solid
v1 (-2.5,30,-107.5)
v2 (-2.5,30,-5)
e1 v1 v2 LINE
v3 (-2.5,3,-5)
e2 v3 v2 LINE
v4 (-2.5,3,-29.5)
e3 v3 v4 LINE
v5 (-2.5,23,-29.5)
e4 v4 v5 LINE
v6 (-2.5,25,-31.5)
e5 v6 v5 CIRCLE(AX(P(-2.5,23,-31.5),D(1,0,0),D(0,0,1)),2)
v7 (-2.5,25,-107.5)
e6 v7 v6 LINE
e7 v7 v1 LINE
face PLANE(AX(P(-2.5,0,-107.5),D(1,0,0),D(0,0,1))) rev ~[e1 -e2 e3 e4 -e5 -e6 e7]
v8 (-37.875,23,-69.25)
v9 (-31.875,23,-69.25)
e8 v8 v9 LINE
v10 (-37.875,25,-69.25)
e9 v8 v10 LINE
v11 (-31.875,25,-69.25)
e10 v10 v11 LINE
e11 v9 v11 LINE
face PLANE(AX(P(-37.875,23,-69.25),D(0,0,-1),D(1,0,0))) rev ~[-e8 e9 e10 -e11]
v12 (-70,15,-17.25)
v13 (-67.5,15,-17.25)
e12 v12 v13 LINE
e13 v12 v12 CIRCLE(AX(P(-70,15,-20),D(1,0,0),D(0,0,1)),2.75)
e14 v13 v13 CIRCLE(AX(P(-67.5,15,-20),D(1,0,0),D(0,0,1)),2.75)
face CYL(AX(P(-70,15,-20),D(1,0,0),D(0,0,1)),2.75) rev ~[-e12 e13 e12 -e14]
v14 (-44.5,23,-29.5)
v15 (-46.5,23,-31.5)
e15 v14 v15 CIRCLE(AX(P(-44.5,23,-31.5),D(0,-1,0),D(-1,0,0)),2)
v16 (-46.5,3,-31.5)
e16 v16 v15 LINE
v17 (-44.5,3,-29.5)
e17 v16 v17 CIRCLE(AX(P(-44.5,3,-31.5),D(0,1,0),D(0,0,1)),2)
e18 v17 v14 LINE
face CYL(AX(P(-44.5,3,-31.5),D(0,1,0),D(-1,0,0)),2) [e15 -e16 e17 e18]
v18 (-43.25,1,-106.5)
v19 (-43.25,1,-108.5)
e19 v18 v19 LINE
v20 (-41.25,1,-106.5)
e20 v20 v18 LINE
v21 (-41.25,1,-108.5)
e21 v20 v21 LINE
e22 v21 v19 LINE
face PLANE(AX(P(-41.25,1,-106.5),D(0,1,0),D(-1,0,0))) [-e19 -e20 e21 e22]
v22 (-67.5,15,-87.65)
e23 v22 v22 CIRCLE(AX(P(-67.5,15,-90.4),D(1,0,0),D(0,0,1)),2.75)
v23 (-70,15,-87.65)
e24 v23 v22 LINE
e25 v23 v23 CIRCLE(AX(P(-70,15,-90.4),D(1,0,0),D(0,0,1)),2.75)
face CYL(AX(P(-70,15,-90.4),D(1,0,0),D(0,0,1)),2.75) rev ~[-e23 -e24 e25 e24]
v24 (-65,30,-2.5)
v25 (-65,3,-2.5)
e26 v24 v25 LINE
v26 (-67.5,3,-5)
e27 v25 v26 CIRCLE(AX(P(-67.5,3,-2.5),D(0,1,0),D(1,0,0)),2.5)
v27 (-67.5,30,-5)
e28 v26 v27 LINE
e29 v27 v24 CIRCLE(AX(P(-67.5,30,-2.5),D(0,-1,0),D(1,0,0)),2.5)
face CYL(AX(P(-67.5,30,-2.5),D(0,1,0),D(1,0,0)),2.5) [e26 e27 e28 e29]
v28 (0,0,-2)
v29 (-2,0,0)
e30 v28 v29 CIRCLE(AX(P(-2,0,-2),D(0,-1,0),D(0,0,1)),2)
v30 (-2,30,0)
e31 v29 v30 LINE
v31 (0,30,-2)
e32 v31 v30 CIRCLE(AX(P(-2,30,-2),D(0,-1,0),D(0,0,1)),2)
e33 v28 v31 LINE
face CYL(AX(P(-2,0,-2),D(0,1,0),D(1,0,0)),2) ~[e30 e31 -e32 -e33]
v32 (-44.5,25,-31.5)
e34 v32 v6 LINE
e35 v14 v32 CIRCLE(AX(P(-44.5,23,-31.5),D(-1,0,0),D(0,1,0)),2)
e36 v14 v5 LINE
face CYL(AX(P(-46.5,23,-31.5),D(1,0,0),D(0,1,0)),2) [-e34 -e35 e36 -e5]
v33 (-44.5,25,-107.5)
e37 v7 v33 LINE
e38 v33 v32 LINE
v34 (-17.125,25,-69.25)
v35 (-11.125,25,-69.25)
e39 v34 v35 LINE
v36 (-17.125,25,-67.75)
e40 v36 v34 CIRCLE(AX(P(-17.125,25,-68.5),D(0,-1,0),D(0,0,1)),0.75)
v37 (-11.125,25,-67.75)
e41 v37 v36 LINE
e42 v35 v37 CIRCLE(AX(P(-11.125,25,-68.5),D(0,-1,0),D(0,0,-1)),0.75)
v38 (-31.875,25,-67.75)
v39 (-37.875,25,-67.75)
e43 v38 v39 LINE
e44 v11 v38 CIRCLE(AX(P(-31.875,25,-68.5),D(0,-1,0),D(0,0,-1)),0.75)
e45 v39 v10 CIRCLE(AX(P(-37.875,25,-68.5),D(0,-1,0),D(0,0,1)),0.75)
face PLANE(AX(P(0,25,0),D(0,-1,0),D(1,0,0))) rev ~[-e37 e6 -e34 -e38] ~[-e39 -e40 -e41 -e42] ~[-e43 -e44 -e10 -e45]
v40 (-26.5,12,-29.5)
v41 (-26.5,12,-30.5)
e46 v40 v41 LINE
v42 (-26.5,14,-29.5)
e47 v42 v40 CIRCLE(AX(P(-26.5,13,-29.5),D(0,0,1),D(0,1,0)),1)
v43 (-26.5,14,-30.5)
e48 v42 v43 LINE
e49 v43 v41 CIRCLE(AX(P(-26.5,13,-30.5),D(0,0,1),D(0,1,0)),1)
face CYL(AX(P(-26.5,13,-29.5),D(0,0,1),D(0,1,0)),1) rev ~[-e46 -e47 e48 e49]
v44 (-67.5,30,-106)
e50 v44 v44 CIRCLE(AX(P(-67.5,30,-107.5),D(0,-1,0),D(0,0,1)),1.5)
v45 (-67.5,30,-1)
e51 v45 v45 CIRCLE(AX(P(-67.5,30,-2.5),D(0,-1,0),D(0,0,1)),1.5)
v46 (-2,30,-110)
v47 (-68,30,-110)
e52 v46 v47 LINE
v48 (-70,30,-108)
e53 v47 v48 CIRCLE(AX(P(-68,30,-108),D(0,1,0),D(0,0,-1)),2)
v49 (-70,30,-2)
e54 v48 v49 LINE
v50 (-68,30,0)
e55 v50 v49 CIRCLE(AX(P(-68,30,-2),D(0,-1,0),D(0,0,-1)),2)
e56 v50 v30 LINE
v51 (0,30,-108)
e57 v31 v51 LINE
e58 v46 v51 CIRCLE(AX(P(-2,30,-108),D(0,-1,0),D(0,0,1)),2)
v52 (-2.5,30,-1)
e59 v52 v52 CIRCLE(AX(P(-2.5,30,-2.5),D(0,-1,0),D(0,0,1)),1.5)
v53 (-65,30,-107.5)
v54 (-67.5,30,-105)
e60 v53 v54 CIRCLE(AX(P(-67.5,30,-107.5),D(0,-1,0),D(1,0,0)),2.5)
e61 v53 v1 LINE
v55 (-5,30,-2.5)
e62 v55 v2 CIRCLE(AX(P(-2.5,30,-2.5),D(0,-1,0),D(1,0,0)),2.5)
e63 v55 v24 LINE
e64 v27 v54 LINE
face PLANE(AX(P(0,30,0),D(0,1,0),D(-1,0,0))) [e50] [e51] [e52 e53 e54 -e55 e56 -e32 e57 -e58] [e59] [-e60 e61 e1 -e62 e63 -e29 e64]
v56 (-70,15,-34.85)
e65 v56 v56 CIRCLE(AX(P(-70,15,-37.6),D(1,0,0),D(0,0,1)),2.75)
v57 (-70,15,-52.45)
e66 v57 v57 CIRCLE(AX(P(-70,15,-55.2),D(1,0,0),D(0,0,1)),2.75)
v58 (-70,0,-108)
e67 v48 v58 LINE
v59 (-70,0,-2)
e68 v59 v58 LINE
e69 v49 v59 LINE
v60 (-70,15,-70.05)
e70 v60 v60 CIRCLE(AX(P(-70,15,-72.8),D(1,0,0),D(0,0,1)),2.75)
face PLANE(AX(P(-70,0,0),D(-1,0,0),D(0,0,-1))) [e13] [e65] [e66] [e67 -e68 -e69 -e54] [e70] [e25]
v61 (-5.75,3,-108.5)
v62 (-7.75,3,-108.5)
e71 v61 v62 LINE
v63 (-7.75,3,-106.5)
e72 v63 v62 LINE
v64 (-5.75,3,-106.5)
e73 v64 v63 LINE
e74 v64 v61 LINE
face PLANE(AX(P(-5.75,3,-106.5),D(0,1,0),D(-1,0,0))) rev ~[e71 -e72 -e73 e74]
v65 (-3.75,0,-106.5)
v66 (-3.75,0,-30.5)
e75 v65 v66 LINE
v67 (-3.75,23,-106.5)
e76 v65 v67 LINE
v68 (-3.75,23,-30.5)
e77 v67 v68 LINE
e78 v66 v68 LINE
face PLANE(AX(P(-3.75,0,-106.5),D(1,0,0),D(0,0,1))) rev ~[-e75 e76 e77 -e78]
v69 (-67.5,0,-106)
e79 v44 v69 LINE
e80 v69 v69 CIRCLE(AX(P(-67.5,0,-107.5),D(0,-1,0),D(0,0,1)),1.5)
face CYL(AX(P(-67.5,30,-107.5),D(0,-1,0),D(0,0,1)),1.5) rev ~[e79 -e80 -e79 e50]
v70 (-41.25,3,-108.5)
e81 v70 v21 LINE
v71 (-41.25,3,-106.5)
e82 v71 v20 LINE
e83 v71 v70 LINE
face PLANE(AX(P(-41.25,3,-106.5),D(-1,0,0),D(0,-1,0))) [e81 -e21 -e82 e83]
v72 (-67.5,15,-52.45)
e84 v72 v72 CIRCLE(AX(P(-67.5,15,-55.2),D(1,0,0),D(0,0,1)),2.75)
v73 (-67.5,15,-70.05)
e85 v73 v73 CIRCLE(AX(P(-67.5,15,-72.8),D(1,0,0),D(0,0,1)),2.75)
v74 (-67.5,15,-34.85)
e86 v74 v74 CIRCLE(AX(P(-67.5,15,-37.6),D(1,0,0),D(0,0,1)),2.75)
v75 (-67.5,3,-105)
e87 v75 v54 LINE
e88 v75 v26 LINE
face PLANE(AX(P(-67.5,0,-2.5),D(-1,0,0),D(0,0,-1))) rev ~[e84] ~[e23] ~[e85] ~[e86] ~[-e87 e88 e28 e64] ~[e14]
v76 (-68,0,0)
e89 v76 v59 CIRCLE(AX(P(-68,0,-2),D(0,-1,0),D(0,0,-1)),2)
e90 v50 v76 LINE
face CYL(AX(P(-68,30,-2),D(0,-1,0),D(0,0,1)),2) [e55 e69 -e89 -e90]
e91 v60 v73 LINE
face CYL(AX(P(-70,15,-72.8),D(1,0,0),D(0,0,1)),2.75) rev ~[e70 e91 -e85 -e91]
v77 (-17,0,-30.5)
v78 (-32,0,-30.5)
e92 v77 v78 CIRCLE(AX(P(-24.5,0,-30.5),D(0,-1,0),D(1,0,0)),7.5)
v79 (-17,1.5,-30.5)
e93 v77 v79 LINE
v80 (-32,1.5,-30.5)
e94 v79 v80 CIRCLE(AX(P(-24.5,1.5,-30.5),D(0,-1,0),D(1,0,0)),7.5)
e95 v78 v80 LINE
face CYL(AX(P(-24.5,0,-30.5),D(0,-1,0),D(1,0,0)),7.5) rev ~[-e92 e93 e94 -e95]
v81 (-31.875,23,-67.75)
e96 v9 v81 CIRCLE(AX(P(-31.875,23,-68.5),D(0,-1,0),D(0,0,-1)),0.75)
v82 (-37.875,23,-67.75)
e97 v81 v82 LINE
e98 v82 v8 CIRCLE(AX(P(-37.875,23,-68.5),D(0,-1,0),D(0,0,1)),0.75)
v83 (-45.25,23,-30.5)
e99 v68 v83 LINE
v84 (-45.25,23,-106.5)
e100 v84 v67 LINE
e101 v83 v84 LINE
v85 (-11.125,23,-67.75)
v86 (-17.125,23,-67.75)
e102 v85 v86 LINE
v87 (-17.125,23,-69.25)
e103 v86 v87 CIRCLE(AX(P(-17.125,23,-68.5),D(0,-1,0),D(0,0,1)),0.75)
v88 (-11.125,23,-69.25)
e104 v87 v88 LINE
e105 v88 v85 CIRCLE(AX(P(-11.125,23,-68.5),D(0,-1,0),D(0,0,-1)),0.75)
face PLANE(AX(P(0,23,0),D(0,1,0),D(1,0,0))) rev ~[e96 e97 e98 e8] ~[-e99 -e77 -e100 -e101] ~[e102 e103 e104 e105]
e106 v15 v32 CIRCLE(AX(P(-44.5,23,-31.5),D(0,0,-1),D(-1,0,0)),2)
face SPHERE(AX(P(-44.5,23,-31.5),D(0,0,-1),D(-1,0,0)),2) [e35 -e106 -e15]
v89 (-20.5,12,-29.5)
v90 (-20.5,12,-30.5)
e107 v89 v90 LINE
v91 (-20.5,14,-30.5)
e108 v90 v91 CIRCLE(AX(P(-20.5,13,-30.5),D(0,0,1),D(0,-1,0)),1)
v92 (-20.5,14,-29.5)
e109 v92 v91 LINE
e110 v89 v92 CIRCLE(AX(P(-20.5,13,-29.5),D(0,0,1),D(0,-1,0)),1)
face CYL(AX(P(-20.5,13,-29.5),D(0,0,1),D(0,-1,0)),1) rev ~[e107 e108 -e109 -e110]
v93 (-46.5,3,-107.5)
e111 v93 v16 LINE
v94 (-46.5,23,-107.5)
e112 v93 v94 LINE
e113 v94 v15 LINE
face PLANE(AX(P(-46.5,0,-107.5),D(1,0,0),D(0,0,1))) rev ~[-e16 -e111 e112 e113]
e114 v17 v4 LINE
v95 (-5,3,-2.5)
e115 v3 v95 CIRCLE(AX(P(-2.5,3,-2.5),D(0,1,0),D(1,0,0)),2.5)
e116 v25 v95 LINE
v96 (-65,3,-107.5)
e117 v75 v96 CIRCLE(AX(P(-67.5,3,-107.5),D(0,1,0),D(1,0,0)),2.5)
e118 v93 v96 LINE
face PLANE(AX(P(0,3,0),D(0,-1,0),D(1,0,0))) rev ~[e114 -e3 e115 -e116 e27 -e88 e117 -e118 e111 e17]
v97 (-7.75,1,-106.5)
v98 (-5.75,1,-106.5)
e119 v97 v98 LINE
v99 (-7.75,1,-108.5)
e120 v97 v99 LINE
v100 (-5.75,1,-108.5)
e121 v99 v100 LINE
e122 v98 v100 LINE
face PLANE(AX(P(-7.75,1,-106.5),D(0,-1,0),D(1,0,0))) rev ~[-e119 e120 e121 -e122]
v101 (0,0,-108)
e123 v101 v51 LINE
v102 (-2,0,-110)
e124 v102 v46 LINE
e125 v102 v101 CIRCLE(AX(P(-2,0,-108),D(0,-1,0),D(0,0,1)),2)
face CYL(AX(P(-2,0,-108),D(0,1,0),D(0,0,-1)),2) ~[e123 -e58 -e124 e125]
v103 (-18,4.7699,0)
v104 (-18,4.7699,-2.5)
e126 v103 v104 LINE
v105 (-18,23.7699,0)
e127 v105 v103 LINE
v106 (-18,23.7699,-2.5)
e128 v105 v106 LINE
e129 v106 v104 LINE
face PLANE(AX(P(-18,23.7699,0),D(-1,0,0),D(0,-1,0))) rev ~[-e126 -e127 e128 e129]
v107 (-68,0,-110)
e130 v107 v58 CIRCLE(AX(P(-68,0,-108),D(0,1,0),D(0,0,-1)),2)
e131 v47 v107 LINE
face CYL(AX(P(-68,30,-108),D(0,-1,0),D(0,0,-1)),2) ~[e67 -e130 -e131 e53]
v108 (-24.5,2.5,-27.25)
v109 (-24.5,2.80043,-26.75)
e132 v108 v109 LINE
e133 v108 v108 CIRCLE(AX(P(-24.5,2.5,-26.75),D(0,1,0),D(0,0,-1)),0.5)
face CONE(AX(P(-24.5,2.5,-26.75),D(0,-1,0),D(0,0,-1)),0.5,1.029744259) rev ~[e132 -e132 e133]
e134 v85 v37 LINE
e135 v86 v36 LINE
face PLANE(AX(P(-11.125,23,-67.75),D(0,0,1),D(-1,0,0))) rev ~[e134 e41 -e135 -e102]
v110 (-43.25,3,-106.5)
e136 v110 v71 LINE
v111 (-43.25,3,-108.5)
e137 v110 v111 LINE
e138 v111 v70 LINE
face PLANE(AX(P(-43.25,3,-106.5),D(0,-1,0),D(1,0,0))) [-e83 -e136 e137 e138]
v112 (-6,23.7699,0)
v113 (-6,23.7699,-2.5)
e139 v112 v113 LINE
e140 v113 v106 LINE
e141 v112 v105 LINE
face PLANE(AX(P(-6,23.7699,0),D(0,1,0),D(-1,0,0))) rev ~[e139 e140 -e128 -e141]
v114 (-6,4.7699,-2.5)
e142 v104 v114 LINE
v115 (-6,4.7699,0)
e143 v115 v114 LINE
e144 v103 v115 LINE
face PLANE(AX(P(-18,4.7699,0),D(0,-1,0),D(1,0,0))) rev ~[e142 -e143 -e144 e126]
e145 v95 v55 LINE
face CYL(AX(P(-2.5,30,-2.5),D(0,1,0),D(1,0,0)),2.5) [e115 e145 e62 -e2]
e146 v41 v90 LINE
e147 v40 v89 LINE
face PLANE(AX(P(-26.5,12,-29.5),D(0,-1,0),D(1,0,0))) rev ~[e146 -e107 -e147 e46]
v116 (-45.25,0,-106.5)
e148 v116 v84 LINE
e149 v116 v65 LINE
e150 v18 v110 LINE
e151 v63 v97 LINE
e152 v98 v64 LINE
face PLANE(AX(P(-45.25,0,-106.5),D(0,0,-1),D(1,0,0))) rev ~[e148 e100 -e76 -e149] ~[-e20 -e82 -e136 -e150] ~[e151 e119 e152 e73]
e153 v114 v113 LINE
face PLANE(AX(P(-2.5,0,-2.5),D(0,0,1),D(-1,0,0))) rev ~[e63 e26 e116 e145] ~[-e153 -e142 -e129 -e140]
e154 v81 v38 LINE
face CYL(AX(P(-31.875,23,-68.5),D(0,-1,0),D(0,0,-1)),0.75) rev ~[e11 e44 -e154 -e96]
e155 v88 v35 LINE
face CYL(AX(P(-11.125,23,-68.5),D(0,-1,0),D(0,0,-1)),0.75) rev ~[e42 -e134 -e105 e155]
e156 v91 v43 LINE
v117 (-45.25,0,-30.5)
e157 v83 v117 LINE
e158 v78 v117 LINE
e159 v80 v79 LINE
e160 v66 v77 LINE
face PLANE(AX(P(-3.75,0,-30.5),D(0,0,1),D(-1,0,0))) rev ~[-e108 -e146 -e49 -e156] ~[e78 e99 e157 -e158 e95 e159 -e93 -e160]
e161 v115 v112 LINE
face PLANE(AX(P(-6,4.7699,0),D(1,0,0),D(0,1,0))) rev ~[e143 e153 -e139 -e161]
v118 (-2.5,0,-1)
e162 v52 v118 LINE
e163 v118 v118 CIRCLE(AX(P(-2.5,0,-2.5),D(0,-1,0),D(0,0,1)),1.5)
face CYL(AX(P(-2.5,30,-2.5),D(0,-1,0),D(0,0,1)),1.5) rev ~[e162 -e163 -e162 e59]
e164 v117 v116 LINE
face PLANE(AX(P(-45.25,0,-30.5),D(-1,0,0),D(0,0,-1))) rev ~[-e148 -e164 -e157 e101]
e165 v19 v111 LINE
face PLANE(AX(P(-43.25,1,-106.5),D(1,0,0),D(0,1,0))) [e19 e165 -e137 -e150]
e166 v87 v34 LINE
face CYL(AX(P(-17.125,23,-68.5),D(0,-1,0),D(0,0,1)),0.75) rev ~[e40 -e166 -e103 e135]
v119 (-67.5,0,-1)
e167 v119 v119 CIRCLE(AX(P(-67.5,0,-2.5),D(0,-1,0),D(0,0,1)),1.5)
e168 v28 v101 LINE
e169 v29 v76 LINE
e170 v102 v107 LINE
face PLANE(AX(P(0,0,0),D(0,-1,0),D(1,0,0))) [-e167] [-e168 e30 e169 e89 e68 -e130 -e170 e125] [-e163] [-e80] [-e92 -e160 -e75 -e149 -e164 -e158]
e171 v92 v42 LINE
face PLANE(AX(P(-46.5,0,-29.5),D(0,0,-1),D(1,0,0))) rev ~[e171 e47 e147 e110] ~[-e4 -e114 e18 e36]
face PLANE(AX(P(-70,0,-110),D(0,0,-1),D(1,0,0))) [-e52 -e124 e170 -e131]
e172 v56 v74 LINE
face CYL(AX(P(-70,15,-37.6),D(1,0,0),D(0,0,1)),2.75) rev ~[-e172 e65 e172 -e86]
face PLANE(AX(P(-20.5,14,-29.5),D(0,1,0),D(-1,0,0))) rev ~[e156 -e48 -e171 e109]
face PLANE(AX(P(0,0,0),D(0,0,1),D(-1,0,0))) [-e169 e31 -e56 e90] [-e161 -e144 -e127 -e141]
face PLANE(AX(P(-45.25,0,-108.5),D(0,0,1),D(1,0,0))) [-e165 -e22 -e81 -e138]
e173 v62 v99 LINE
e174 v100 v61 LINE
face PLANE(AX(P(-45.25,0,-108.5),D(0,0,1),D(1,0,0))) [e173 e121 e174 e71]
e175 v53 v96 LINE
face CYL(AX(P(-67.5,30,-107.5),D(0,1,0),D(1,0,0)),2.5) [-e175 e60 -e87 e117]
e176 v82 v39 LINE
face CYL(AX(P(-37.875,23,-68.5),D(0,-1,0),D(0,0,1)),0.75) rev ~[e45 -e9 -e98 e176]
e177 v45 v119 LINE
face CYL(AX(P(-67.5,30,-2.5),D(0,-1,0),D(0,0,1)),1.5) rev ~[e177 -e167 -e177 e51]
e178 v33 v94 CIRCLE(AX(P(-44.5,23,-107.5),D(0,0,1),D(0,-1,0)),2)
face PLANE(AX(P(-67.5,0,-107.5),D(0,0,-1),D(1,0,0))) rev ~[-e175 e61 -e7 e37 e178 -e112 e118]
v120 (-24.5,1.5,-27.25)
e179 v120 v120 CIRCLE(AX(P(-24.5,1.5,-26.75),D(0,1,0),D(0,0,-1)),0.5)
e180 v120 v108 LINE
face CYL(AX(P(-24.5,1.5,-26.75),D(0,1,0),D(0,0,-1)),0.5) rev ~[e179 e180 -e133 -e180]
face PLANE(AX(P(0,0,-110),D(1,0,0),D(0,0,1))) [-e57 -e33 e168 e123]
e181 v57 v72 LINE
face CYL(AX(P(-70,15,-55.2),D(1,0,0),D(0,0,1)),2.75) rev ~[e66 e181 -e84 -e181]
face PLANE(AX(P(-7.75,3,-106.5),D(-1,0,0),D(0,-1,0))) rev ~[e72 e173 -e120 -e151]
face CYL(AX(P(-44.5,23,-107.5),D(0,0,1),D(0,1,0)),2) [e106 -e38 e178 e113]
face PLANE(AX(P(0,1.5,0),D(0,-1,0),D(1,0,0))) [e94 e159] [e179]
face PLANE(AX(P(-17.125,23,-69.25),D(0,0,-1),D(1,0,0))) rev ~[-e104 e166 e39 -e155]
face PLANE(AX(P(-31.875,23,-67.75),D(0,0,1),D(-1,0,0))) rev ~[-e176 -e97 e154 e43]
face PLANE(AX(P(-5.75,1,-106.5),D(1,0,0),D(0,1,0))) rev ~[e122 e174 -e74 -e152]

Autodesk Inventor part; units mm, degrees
ref_plane "YZ Plane" through (0, 0, 0) normal (1, 0, 0) x (0, 1, 0)
ref_plane "XZ Plane" through (0, 0, 0) normal (0, 1, 0) x (-1, 0, 0)
ref_plane "XY Plane" through (0, 0, 0) normal (0, 0, 1) x (1, 0, 0)
sketch "Sketch1" plane through (0, 0, 0) normal (0, 1, 0) x (-1, 0, 0)
  line L0 (0, 0) -> (70, 0)
  line L1 (70, 0) -> (70, -110)
  line L2 (70, -110) -> (0, -110)
  line L3 (0, -110) -> (0, 0)
  line L4 (2.5, -2.5) -> (67.5, -2.5)
  line L5 (67.5, -2.5) -> (67.5, -107.5)
  line L6 (67.5, -107.5) -> (2.5, -107.5)
  line L7 (2.5, -107.5) -> (2.5, -2.5)
  line L8 (2.5, -2.5) -> (67.5, -107.5) construction
  line L9 (67.5, -2.5) -> (2.5, -107.5) construction
  point P0 (35, -55)
  dimension "d0" = 70
  dimension "d1" = 110
  dimension "d2" = 65
  dimension "d3" = 105
extrude "Extrusion1" add sketch "Sketch1" along normal blind 30
sketch "Sketch2" plane through (0, 0, 0) normal (0, -1, 0) x (1, 0, 0)
  line L0 (0, -110) -> (-70, -110) projected
  line L1 (0, 0) -> (-70, 0)
  line L2 (-70, 0) -> (-70, -110)
  line L3 (-70, -110) -> (0, -110)
  line L4 (0, -110) -> (0, 0)
extrude "Extrusion2" add sketch "Sketch2" against normal blind 3
sketch "Sketch3" plane through (0, 0, 0) normal (0, -1, 0) x (1, 0, 0)
  line L0 (-2.5, -107.5) -> (-2.5, -2.5) projected
  line L1 (-2.5, -107.5) -> (-46.5, -107.5)
  line L2 (-46.5, -107.5) -> (-46.5, -29.5)
  line L3 (-46.5, -29.5) -> (-2.5, -29.5)
  line L4 (-2.5, -29.5) -> (-2.5, -107.5)
  line L5 (-45.25, -106.5) -> (-3.75, -106.5)
  line L6 (-3.75, -106.5) -> (-3.75, -30.5)
  line L7 (-3.75, -30.5) -> (-45.25, -30.5)
  line L8 (-45.25, -30.5) -> (-45.25, -106.5)
  line L9 (-45.25, -106.5) -> (-3.75, -30.5) construction
  line L10 (-3.75, -106.5) -> (-45.25, -30.5) construction
  point P0 (0, 0)
  point P1 (-24.5, -68.5)
  dimension "d8" = 44
  dimension "d9" = 78
  dimension "d10" = 41.5
  dimension "d11" = 76
extrude "Extrusion3" add sketch "Sketch3" against normal blind 25
extrude "Extrusion4" cut sketch "Sketch3" against normal blind 25 contours L8 L7 L6 L5
sketch "Sketch4" plane through (0, 25, 0) normal (0, 1, 0) x (1, 0, 0)
  line L0 (-46.5, 107.5) -> (-46.5, 29.5) projected
  line L1 (-2.5, 107.5) -> (-2.5, 29.5) projected
  line L2 (-46.5, 29.5) -> (-2.5, 29.5)
  line L3 (-2.5, 29.5) -> (-2.5, 107.5)
  line L4 (-2.5, 107.5) -> (-46.5, 107.5)
  line L5 (-46.5, 107.5) -> (-46.5, 29.5)
  point P0 (0, 0)
  point P1 (-2.5, 29.5)
extrude "Extrusion5" add sketch "Sketch4" against normal blind 2
fillet "Fillet1" radius 2 3 edges at (-46.5, 25, -68.5) (-46.5, 14, -29.5) (-24.5, 25, -29.5)
sketch "Sketch5" plane through (0, 23, 0) normal (0, -1, 0) x (1, 0, 0)
  line L0 (-45.25, -30.5) -> (-3.75, -30.5) construction
  line L1 (-3.75, -30.5) -> (-3.75, -106.5) construction
  line L2 (-45.25, -30.5) -> (-3.75, -106.5) construction
  line L3 (-3.75, -106.5) -> (-45.25, -106.5) construction
  line L4 (0, 0) -> (0, -110) construction
  line L5 (-45.25, -106.5) -> (-3.75, -30.5) construction
  line L6 (-24.5, -68.5) -> (-24.5, -106.5) construction
  line L7 (-3.75, -106.5) -> (-45.25, -106.5) construction
  line L8 (-24.5, -68.5) -> (-24.5, -30.5) construction
  line L9 (-45.25, -106.5) -> (-24.5, -30.5) construction
  line L10 (-45.25, -30.5) -> (-24.5, -106.5) construction
  line L11 (-24.5, -106.5) -> (-3.75, -30.5) construction
  line L12 (-24.5, -30.5) -> (-3.75, -106.5) construction
  line L13 (-31.875, -68.5) -> (-37.875, -68.5) construction
  line L14 (-31.875, -67.75) -> (-37.875, -67.75)
  line L15 (-37.875, -69.25) -> (-31.875, -69.25)
  arc A0 (-31.875, -69.25) -> (-31.875, -67.75) centre (-31.875, -68.5) ccw
  arc A1 (-37.875, -67.75) -> (-37.875, -69.25) centre (-37.875, -68.5) ccw
  line L16 (-11.125, -68.5) -> (-17.125, -68.5) construction
  line L17 (-11.125, -67.75) -> (-17.125, -67.75)
  line L18 (-17.125, -69.25) -> (-11.125, -69.25)
  arc A2 (-11.125, -69.25) -> (-11.125, -67.75) centre (-11.125, -68.5) ccw
  arc A3 (-17.125, -67.75) -> (-17.125, -69.25) centre (-17.125, -68.5) ccw
  point P0 (-34.875, -68.5)
  point P1 (-14.125, -68.5)
  dimension "d19" = 3
  dimension "d20" = 1.5
  dimension "d21" = 3
  dimension "d22" = 1.5
extrude "Extrusion6" cut sketch "Sketch5" against normal blind 2
sketch "Sketch6" plane through (-44.5, 23, -29.5) normal (0, 0, 1) x (1, 0, 0)
  line L0 (44.5, 7) -> (44.5, -23) projected
  line L1 (44.5, -23) -> (-25.5, -23) projected
  line L2 (-25.5, -23) -> (-25.5, 7) projected
  line L3 (-25.5, 7) -> (-23, 7) projected
  line L4 (-23, 7) -> (-23, -20) projected
  line L5 (-23, -20) -> (0, -20) projected
  line L6 (0, -20) -> (0, 0) projected
  line L7 (0, 0) -> (42, 0) projected
  line L8 (42, -20) -> (42, 0) projected
  line L9 (0, -20) -> (42, -20) projected
  line L10 (42, 7) -> (44.5, 7) projected
  line L11 (42, 0) -> (42, 7) projected
  line L12 (42, 0) -> (0, -20) construction
  line L13 (42, -20) -> (0, 0) construction
  line L14 (18, -10) -> (24, -10) construction
  line L15 (18, -11) -> (24, -11)
  line L16 (24, -9) -> (18, -9)
  arc A0 (18, -9) -> (18, -11) centre (18, -10) ccw
  arc A1 (24, -11) -> (24, -9) centre (24, -10) ccw
  point P0 (21, -10)
  dimension "d25" = 3
  dimension "d26" = 2
extrude "Extrusion7" cut sketch "Sketch6" against normal blind 2 contours A0 L16 A1 L15
sketch "Sketch7" plane through (0, 30, 0) normal (0, 1, 0) x (1, 0, 0)
  line L0 (-67.5, 107.5) -> (-46.5, 107.5) projected
  circle A0 centre (-67.5, 107.5) radius 2.5
  line L1 (0, 110) -> (-70, 110) projected
  line L2 (-2.5, 2.5) -> (-67.5, 2.5) projected
  circle A1 centre (-2.5, 2.5) radius 2.5
  line L3 (-70, 0) -> (0, 0) projected
  circle A2 centre (-67.5, 2.5) radius 2.5
extrude "Extrusion8" add sketch "Sketch7" against normal blind 30 contours A0 | A1 | A2
fillet "Fillet2" radius 2 3 edges at (0, 15, 0) (-70, 15, 0) (-70, 15, -110)
sketch "Sketch8" plane through (0, 30, 0) normal (0, 1, 0) x (1, 0, 0)
  arc A0 (-65, 2.5) -> (-67.5, 5) centre (-67.5, 2.5) ccw projected
  arc A1 (-2.5, 5) -> (-5, 2.5) centre (-2.5, 2.5) ccw projected
  arc A2 (-67.5, 105) -> (-65, 107.5) centre (-67.5, 107.5) ccw projected
  point P0 (0, 0)
hole "Hole1" at (-67.5, 30, -2.5) at (-2.5, 30, -2.5) at (-67.5, 30, -107.5) direction (0, -1, 0) diameter 3 depth 40 tip angle 118
fillet "Fillet3" radius 2 1 edges at (0, 15, -110)
sketch "Sketch9" plane through (-45.25, 0, -106.5) normal (0, 0, 1) x (1, 0, 0)
  line L0 (-24.75, 30) -> (-23.368, 30) projected
  line L1 (-23.368, 30) -> (-23.368, 0) projected
  line L2 (-23.368, 0) -> (-24.75, 0) projected
  line L3 (-24.75, 0) -> (-24.75, 30) projected
  line L4 (41.5, 23) -> (0, 23) projected
  line L5 (0, 23) -> (0, 0) projected
  line L6 (0, 0) -> (-21.132, 0) projected
  line L7 (-21.132, 0) -> (-21.132, 30) projected
  line L8 (-21.132, 30) -> (-19.9587, 30) projected
  line L9 (-19.9587, 30) -> (-19.9587, 3) projected
  line L10 (-19.9587, 3) -> (-1.25, 3) projected
  line L11 (-1.25, 3) -> (-1.25, 23) projected
  arc A0 (0.75, 25) -> (-1.25, 23) centre (0.75, 23) ccw projected
  line L12 (0.75, 25) -> (42.75, 25) projected
  line L13 (42.75, 25) -> (42.75, 30) projected
  line L14 (42.75, 30) -> (45.25, 30) projected
  line L15 (45.25, 30) -> (45.25, 0) projected
  line L16 (45.25, 0) -> (41.5, 0) projected
  line L17 (41.5, 0) -> (0, 0) projected
  line L18 (41.5, 0) -> (41.5, 23) projected
  line L19 (0, 3) -> (2, 3) construction
  line L20 (-19.75, 3) -> (-1.25, 3) construction
  line L21 (2, 3) -> (4, 3)
  line L22 (4, 3) -> (4, 1)
  line L23 (4, 1) -> (2, 1)
  line L24 (2, 1) -> (2, 3)
  line L25 (41.5, 3) -> (39.5, 3) construction
  line L26 (39.5, 3) -> (37.5, 3)
  line L27 (37.5, 3) -> (37.5, 1)
  line L28 (37.5, 1) -> (39.5, 1)
  line L29 (39.5, 1) -> (39.5, 3)
  dimension "d40" = 2
  dimension "d41" = 2
  dimension "d42" = 2
  dimension "d43" = 2
  dimension "d44" = 2
  dimension "d45" = 2
extrude "Extrusion9" cut sketch "Sketch9" against normal blind 2 contours L21 L22 L23 L24 | L29 L28 L27 L26
sketch "Sketch10" plane through (0, 0, 0) normal (0, -1, 0) x (1, 0, 0)
  line L0 (-45.25, -30.5) -> (-3.75, -30.5) projected
  circle A0 centre (-24.5, -30.5) radius 7.5
  point P0 (0, 0)
  point P1 (-17, -30.5)
  point P2 (-32, -30.5)
  dimension "d48" = 15
extrude "Extrusion10" cut sketch "Sketch10" against normal blind 1.5 contours A0 L0 picked at (-23.8998, -27.0007)
sketch "Sketch12" plane through (0, 1.5, 0) normal (0, -1, 0) x (1, 0, 0)
  arc A0 (-17, -30.5) -> (-32, -30.5) centre (-24.5, -30.5) ccw construction
  line L0 (-24.5, -30.5) -> (-24.5, -26.75) construction
  line L1 (-24.5, -30.5) -> (-20.75, -30.5) construction
  point P0 (0, 0)
  dimension "d58" = 3.75
  dimension "d59" = 90
hole "Hole3" at (-24.5, 1.5, -26.75) direction (0, 1, 0) diameter 1 depth 1 tip angle 118
sketch "Sketch14" plane through (-70, 0, -108) normal (-1, 0, 0) x (0, 0, 1)
  line L0 (0, 0) -> (0, 30) construction
  line L1 (108, 0) -> (106, 0) construction
  line L2 (106, 0) -> (106, 30) construction
  line L3 (108, 30) -> (108, 0) construction
  line L4 (53, 15) -> (106, 15) construction
  line L5 (106, 0) -> (106, 30) construction
  line L6 (53, 15) -> (0, 15) construction
  line L7 (0, 15) -> (17.6, 15) construction
  point P0 (35.2, 15)
  point P1 (52.8, 15)
  point P2 (70.4, 15)
  point P3 (88, 15)
  dimension "d71" = 17.6
  dimension "d74" = 17.6
  dimension "d79" = 18
hole "Hole4" at (-70, 15, -90.4) at (-70, 15, -72.8) at (-70, 15, -55.2) at (-70, 15, -37.6) at (-70, 15, -20) direction (1, 0, 0) diameter 5.5 depth 3
sketch "Sketch16" plane through (-68, 0, 0) normal (0, 0, 1) x (1, 0, 0)
  line L0 (0, 0) -> (66, 0) construction
  line L1 (66, 0) -> (62, 0) construction
  line L2 (66, 0) -> (70, 0) construction
  line L3 (62, 0) -> (62, 30) construction
  line L4 (0, 30) -> (66, 30) construction
  line L5 (62, 23.7699) -> (50, 23.7699)
  line L6 (50, 23.7699) -> (50, 4.7699)
  line L7 (50, 4.7699) -> (62, 4.7699)
  line L8 (62, 4.7699) -> (62, 23.7699)
  point P0 (68, 0)
  dimension "d88" = 4
  dimension "d89" = 180
  dimension "d90" = 12
  dimension "d91" = 19
extrude "Extrusion11" cut sketch "Sketch16" against normal blind 3
properties part number "inferior model2"
